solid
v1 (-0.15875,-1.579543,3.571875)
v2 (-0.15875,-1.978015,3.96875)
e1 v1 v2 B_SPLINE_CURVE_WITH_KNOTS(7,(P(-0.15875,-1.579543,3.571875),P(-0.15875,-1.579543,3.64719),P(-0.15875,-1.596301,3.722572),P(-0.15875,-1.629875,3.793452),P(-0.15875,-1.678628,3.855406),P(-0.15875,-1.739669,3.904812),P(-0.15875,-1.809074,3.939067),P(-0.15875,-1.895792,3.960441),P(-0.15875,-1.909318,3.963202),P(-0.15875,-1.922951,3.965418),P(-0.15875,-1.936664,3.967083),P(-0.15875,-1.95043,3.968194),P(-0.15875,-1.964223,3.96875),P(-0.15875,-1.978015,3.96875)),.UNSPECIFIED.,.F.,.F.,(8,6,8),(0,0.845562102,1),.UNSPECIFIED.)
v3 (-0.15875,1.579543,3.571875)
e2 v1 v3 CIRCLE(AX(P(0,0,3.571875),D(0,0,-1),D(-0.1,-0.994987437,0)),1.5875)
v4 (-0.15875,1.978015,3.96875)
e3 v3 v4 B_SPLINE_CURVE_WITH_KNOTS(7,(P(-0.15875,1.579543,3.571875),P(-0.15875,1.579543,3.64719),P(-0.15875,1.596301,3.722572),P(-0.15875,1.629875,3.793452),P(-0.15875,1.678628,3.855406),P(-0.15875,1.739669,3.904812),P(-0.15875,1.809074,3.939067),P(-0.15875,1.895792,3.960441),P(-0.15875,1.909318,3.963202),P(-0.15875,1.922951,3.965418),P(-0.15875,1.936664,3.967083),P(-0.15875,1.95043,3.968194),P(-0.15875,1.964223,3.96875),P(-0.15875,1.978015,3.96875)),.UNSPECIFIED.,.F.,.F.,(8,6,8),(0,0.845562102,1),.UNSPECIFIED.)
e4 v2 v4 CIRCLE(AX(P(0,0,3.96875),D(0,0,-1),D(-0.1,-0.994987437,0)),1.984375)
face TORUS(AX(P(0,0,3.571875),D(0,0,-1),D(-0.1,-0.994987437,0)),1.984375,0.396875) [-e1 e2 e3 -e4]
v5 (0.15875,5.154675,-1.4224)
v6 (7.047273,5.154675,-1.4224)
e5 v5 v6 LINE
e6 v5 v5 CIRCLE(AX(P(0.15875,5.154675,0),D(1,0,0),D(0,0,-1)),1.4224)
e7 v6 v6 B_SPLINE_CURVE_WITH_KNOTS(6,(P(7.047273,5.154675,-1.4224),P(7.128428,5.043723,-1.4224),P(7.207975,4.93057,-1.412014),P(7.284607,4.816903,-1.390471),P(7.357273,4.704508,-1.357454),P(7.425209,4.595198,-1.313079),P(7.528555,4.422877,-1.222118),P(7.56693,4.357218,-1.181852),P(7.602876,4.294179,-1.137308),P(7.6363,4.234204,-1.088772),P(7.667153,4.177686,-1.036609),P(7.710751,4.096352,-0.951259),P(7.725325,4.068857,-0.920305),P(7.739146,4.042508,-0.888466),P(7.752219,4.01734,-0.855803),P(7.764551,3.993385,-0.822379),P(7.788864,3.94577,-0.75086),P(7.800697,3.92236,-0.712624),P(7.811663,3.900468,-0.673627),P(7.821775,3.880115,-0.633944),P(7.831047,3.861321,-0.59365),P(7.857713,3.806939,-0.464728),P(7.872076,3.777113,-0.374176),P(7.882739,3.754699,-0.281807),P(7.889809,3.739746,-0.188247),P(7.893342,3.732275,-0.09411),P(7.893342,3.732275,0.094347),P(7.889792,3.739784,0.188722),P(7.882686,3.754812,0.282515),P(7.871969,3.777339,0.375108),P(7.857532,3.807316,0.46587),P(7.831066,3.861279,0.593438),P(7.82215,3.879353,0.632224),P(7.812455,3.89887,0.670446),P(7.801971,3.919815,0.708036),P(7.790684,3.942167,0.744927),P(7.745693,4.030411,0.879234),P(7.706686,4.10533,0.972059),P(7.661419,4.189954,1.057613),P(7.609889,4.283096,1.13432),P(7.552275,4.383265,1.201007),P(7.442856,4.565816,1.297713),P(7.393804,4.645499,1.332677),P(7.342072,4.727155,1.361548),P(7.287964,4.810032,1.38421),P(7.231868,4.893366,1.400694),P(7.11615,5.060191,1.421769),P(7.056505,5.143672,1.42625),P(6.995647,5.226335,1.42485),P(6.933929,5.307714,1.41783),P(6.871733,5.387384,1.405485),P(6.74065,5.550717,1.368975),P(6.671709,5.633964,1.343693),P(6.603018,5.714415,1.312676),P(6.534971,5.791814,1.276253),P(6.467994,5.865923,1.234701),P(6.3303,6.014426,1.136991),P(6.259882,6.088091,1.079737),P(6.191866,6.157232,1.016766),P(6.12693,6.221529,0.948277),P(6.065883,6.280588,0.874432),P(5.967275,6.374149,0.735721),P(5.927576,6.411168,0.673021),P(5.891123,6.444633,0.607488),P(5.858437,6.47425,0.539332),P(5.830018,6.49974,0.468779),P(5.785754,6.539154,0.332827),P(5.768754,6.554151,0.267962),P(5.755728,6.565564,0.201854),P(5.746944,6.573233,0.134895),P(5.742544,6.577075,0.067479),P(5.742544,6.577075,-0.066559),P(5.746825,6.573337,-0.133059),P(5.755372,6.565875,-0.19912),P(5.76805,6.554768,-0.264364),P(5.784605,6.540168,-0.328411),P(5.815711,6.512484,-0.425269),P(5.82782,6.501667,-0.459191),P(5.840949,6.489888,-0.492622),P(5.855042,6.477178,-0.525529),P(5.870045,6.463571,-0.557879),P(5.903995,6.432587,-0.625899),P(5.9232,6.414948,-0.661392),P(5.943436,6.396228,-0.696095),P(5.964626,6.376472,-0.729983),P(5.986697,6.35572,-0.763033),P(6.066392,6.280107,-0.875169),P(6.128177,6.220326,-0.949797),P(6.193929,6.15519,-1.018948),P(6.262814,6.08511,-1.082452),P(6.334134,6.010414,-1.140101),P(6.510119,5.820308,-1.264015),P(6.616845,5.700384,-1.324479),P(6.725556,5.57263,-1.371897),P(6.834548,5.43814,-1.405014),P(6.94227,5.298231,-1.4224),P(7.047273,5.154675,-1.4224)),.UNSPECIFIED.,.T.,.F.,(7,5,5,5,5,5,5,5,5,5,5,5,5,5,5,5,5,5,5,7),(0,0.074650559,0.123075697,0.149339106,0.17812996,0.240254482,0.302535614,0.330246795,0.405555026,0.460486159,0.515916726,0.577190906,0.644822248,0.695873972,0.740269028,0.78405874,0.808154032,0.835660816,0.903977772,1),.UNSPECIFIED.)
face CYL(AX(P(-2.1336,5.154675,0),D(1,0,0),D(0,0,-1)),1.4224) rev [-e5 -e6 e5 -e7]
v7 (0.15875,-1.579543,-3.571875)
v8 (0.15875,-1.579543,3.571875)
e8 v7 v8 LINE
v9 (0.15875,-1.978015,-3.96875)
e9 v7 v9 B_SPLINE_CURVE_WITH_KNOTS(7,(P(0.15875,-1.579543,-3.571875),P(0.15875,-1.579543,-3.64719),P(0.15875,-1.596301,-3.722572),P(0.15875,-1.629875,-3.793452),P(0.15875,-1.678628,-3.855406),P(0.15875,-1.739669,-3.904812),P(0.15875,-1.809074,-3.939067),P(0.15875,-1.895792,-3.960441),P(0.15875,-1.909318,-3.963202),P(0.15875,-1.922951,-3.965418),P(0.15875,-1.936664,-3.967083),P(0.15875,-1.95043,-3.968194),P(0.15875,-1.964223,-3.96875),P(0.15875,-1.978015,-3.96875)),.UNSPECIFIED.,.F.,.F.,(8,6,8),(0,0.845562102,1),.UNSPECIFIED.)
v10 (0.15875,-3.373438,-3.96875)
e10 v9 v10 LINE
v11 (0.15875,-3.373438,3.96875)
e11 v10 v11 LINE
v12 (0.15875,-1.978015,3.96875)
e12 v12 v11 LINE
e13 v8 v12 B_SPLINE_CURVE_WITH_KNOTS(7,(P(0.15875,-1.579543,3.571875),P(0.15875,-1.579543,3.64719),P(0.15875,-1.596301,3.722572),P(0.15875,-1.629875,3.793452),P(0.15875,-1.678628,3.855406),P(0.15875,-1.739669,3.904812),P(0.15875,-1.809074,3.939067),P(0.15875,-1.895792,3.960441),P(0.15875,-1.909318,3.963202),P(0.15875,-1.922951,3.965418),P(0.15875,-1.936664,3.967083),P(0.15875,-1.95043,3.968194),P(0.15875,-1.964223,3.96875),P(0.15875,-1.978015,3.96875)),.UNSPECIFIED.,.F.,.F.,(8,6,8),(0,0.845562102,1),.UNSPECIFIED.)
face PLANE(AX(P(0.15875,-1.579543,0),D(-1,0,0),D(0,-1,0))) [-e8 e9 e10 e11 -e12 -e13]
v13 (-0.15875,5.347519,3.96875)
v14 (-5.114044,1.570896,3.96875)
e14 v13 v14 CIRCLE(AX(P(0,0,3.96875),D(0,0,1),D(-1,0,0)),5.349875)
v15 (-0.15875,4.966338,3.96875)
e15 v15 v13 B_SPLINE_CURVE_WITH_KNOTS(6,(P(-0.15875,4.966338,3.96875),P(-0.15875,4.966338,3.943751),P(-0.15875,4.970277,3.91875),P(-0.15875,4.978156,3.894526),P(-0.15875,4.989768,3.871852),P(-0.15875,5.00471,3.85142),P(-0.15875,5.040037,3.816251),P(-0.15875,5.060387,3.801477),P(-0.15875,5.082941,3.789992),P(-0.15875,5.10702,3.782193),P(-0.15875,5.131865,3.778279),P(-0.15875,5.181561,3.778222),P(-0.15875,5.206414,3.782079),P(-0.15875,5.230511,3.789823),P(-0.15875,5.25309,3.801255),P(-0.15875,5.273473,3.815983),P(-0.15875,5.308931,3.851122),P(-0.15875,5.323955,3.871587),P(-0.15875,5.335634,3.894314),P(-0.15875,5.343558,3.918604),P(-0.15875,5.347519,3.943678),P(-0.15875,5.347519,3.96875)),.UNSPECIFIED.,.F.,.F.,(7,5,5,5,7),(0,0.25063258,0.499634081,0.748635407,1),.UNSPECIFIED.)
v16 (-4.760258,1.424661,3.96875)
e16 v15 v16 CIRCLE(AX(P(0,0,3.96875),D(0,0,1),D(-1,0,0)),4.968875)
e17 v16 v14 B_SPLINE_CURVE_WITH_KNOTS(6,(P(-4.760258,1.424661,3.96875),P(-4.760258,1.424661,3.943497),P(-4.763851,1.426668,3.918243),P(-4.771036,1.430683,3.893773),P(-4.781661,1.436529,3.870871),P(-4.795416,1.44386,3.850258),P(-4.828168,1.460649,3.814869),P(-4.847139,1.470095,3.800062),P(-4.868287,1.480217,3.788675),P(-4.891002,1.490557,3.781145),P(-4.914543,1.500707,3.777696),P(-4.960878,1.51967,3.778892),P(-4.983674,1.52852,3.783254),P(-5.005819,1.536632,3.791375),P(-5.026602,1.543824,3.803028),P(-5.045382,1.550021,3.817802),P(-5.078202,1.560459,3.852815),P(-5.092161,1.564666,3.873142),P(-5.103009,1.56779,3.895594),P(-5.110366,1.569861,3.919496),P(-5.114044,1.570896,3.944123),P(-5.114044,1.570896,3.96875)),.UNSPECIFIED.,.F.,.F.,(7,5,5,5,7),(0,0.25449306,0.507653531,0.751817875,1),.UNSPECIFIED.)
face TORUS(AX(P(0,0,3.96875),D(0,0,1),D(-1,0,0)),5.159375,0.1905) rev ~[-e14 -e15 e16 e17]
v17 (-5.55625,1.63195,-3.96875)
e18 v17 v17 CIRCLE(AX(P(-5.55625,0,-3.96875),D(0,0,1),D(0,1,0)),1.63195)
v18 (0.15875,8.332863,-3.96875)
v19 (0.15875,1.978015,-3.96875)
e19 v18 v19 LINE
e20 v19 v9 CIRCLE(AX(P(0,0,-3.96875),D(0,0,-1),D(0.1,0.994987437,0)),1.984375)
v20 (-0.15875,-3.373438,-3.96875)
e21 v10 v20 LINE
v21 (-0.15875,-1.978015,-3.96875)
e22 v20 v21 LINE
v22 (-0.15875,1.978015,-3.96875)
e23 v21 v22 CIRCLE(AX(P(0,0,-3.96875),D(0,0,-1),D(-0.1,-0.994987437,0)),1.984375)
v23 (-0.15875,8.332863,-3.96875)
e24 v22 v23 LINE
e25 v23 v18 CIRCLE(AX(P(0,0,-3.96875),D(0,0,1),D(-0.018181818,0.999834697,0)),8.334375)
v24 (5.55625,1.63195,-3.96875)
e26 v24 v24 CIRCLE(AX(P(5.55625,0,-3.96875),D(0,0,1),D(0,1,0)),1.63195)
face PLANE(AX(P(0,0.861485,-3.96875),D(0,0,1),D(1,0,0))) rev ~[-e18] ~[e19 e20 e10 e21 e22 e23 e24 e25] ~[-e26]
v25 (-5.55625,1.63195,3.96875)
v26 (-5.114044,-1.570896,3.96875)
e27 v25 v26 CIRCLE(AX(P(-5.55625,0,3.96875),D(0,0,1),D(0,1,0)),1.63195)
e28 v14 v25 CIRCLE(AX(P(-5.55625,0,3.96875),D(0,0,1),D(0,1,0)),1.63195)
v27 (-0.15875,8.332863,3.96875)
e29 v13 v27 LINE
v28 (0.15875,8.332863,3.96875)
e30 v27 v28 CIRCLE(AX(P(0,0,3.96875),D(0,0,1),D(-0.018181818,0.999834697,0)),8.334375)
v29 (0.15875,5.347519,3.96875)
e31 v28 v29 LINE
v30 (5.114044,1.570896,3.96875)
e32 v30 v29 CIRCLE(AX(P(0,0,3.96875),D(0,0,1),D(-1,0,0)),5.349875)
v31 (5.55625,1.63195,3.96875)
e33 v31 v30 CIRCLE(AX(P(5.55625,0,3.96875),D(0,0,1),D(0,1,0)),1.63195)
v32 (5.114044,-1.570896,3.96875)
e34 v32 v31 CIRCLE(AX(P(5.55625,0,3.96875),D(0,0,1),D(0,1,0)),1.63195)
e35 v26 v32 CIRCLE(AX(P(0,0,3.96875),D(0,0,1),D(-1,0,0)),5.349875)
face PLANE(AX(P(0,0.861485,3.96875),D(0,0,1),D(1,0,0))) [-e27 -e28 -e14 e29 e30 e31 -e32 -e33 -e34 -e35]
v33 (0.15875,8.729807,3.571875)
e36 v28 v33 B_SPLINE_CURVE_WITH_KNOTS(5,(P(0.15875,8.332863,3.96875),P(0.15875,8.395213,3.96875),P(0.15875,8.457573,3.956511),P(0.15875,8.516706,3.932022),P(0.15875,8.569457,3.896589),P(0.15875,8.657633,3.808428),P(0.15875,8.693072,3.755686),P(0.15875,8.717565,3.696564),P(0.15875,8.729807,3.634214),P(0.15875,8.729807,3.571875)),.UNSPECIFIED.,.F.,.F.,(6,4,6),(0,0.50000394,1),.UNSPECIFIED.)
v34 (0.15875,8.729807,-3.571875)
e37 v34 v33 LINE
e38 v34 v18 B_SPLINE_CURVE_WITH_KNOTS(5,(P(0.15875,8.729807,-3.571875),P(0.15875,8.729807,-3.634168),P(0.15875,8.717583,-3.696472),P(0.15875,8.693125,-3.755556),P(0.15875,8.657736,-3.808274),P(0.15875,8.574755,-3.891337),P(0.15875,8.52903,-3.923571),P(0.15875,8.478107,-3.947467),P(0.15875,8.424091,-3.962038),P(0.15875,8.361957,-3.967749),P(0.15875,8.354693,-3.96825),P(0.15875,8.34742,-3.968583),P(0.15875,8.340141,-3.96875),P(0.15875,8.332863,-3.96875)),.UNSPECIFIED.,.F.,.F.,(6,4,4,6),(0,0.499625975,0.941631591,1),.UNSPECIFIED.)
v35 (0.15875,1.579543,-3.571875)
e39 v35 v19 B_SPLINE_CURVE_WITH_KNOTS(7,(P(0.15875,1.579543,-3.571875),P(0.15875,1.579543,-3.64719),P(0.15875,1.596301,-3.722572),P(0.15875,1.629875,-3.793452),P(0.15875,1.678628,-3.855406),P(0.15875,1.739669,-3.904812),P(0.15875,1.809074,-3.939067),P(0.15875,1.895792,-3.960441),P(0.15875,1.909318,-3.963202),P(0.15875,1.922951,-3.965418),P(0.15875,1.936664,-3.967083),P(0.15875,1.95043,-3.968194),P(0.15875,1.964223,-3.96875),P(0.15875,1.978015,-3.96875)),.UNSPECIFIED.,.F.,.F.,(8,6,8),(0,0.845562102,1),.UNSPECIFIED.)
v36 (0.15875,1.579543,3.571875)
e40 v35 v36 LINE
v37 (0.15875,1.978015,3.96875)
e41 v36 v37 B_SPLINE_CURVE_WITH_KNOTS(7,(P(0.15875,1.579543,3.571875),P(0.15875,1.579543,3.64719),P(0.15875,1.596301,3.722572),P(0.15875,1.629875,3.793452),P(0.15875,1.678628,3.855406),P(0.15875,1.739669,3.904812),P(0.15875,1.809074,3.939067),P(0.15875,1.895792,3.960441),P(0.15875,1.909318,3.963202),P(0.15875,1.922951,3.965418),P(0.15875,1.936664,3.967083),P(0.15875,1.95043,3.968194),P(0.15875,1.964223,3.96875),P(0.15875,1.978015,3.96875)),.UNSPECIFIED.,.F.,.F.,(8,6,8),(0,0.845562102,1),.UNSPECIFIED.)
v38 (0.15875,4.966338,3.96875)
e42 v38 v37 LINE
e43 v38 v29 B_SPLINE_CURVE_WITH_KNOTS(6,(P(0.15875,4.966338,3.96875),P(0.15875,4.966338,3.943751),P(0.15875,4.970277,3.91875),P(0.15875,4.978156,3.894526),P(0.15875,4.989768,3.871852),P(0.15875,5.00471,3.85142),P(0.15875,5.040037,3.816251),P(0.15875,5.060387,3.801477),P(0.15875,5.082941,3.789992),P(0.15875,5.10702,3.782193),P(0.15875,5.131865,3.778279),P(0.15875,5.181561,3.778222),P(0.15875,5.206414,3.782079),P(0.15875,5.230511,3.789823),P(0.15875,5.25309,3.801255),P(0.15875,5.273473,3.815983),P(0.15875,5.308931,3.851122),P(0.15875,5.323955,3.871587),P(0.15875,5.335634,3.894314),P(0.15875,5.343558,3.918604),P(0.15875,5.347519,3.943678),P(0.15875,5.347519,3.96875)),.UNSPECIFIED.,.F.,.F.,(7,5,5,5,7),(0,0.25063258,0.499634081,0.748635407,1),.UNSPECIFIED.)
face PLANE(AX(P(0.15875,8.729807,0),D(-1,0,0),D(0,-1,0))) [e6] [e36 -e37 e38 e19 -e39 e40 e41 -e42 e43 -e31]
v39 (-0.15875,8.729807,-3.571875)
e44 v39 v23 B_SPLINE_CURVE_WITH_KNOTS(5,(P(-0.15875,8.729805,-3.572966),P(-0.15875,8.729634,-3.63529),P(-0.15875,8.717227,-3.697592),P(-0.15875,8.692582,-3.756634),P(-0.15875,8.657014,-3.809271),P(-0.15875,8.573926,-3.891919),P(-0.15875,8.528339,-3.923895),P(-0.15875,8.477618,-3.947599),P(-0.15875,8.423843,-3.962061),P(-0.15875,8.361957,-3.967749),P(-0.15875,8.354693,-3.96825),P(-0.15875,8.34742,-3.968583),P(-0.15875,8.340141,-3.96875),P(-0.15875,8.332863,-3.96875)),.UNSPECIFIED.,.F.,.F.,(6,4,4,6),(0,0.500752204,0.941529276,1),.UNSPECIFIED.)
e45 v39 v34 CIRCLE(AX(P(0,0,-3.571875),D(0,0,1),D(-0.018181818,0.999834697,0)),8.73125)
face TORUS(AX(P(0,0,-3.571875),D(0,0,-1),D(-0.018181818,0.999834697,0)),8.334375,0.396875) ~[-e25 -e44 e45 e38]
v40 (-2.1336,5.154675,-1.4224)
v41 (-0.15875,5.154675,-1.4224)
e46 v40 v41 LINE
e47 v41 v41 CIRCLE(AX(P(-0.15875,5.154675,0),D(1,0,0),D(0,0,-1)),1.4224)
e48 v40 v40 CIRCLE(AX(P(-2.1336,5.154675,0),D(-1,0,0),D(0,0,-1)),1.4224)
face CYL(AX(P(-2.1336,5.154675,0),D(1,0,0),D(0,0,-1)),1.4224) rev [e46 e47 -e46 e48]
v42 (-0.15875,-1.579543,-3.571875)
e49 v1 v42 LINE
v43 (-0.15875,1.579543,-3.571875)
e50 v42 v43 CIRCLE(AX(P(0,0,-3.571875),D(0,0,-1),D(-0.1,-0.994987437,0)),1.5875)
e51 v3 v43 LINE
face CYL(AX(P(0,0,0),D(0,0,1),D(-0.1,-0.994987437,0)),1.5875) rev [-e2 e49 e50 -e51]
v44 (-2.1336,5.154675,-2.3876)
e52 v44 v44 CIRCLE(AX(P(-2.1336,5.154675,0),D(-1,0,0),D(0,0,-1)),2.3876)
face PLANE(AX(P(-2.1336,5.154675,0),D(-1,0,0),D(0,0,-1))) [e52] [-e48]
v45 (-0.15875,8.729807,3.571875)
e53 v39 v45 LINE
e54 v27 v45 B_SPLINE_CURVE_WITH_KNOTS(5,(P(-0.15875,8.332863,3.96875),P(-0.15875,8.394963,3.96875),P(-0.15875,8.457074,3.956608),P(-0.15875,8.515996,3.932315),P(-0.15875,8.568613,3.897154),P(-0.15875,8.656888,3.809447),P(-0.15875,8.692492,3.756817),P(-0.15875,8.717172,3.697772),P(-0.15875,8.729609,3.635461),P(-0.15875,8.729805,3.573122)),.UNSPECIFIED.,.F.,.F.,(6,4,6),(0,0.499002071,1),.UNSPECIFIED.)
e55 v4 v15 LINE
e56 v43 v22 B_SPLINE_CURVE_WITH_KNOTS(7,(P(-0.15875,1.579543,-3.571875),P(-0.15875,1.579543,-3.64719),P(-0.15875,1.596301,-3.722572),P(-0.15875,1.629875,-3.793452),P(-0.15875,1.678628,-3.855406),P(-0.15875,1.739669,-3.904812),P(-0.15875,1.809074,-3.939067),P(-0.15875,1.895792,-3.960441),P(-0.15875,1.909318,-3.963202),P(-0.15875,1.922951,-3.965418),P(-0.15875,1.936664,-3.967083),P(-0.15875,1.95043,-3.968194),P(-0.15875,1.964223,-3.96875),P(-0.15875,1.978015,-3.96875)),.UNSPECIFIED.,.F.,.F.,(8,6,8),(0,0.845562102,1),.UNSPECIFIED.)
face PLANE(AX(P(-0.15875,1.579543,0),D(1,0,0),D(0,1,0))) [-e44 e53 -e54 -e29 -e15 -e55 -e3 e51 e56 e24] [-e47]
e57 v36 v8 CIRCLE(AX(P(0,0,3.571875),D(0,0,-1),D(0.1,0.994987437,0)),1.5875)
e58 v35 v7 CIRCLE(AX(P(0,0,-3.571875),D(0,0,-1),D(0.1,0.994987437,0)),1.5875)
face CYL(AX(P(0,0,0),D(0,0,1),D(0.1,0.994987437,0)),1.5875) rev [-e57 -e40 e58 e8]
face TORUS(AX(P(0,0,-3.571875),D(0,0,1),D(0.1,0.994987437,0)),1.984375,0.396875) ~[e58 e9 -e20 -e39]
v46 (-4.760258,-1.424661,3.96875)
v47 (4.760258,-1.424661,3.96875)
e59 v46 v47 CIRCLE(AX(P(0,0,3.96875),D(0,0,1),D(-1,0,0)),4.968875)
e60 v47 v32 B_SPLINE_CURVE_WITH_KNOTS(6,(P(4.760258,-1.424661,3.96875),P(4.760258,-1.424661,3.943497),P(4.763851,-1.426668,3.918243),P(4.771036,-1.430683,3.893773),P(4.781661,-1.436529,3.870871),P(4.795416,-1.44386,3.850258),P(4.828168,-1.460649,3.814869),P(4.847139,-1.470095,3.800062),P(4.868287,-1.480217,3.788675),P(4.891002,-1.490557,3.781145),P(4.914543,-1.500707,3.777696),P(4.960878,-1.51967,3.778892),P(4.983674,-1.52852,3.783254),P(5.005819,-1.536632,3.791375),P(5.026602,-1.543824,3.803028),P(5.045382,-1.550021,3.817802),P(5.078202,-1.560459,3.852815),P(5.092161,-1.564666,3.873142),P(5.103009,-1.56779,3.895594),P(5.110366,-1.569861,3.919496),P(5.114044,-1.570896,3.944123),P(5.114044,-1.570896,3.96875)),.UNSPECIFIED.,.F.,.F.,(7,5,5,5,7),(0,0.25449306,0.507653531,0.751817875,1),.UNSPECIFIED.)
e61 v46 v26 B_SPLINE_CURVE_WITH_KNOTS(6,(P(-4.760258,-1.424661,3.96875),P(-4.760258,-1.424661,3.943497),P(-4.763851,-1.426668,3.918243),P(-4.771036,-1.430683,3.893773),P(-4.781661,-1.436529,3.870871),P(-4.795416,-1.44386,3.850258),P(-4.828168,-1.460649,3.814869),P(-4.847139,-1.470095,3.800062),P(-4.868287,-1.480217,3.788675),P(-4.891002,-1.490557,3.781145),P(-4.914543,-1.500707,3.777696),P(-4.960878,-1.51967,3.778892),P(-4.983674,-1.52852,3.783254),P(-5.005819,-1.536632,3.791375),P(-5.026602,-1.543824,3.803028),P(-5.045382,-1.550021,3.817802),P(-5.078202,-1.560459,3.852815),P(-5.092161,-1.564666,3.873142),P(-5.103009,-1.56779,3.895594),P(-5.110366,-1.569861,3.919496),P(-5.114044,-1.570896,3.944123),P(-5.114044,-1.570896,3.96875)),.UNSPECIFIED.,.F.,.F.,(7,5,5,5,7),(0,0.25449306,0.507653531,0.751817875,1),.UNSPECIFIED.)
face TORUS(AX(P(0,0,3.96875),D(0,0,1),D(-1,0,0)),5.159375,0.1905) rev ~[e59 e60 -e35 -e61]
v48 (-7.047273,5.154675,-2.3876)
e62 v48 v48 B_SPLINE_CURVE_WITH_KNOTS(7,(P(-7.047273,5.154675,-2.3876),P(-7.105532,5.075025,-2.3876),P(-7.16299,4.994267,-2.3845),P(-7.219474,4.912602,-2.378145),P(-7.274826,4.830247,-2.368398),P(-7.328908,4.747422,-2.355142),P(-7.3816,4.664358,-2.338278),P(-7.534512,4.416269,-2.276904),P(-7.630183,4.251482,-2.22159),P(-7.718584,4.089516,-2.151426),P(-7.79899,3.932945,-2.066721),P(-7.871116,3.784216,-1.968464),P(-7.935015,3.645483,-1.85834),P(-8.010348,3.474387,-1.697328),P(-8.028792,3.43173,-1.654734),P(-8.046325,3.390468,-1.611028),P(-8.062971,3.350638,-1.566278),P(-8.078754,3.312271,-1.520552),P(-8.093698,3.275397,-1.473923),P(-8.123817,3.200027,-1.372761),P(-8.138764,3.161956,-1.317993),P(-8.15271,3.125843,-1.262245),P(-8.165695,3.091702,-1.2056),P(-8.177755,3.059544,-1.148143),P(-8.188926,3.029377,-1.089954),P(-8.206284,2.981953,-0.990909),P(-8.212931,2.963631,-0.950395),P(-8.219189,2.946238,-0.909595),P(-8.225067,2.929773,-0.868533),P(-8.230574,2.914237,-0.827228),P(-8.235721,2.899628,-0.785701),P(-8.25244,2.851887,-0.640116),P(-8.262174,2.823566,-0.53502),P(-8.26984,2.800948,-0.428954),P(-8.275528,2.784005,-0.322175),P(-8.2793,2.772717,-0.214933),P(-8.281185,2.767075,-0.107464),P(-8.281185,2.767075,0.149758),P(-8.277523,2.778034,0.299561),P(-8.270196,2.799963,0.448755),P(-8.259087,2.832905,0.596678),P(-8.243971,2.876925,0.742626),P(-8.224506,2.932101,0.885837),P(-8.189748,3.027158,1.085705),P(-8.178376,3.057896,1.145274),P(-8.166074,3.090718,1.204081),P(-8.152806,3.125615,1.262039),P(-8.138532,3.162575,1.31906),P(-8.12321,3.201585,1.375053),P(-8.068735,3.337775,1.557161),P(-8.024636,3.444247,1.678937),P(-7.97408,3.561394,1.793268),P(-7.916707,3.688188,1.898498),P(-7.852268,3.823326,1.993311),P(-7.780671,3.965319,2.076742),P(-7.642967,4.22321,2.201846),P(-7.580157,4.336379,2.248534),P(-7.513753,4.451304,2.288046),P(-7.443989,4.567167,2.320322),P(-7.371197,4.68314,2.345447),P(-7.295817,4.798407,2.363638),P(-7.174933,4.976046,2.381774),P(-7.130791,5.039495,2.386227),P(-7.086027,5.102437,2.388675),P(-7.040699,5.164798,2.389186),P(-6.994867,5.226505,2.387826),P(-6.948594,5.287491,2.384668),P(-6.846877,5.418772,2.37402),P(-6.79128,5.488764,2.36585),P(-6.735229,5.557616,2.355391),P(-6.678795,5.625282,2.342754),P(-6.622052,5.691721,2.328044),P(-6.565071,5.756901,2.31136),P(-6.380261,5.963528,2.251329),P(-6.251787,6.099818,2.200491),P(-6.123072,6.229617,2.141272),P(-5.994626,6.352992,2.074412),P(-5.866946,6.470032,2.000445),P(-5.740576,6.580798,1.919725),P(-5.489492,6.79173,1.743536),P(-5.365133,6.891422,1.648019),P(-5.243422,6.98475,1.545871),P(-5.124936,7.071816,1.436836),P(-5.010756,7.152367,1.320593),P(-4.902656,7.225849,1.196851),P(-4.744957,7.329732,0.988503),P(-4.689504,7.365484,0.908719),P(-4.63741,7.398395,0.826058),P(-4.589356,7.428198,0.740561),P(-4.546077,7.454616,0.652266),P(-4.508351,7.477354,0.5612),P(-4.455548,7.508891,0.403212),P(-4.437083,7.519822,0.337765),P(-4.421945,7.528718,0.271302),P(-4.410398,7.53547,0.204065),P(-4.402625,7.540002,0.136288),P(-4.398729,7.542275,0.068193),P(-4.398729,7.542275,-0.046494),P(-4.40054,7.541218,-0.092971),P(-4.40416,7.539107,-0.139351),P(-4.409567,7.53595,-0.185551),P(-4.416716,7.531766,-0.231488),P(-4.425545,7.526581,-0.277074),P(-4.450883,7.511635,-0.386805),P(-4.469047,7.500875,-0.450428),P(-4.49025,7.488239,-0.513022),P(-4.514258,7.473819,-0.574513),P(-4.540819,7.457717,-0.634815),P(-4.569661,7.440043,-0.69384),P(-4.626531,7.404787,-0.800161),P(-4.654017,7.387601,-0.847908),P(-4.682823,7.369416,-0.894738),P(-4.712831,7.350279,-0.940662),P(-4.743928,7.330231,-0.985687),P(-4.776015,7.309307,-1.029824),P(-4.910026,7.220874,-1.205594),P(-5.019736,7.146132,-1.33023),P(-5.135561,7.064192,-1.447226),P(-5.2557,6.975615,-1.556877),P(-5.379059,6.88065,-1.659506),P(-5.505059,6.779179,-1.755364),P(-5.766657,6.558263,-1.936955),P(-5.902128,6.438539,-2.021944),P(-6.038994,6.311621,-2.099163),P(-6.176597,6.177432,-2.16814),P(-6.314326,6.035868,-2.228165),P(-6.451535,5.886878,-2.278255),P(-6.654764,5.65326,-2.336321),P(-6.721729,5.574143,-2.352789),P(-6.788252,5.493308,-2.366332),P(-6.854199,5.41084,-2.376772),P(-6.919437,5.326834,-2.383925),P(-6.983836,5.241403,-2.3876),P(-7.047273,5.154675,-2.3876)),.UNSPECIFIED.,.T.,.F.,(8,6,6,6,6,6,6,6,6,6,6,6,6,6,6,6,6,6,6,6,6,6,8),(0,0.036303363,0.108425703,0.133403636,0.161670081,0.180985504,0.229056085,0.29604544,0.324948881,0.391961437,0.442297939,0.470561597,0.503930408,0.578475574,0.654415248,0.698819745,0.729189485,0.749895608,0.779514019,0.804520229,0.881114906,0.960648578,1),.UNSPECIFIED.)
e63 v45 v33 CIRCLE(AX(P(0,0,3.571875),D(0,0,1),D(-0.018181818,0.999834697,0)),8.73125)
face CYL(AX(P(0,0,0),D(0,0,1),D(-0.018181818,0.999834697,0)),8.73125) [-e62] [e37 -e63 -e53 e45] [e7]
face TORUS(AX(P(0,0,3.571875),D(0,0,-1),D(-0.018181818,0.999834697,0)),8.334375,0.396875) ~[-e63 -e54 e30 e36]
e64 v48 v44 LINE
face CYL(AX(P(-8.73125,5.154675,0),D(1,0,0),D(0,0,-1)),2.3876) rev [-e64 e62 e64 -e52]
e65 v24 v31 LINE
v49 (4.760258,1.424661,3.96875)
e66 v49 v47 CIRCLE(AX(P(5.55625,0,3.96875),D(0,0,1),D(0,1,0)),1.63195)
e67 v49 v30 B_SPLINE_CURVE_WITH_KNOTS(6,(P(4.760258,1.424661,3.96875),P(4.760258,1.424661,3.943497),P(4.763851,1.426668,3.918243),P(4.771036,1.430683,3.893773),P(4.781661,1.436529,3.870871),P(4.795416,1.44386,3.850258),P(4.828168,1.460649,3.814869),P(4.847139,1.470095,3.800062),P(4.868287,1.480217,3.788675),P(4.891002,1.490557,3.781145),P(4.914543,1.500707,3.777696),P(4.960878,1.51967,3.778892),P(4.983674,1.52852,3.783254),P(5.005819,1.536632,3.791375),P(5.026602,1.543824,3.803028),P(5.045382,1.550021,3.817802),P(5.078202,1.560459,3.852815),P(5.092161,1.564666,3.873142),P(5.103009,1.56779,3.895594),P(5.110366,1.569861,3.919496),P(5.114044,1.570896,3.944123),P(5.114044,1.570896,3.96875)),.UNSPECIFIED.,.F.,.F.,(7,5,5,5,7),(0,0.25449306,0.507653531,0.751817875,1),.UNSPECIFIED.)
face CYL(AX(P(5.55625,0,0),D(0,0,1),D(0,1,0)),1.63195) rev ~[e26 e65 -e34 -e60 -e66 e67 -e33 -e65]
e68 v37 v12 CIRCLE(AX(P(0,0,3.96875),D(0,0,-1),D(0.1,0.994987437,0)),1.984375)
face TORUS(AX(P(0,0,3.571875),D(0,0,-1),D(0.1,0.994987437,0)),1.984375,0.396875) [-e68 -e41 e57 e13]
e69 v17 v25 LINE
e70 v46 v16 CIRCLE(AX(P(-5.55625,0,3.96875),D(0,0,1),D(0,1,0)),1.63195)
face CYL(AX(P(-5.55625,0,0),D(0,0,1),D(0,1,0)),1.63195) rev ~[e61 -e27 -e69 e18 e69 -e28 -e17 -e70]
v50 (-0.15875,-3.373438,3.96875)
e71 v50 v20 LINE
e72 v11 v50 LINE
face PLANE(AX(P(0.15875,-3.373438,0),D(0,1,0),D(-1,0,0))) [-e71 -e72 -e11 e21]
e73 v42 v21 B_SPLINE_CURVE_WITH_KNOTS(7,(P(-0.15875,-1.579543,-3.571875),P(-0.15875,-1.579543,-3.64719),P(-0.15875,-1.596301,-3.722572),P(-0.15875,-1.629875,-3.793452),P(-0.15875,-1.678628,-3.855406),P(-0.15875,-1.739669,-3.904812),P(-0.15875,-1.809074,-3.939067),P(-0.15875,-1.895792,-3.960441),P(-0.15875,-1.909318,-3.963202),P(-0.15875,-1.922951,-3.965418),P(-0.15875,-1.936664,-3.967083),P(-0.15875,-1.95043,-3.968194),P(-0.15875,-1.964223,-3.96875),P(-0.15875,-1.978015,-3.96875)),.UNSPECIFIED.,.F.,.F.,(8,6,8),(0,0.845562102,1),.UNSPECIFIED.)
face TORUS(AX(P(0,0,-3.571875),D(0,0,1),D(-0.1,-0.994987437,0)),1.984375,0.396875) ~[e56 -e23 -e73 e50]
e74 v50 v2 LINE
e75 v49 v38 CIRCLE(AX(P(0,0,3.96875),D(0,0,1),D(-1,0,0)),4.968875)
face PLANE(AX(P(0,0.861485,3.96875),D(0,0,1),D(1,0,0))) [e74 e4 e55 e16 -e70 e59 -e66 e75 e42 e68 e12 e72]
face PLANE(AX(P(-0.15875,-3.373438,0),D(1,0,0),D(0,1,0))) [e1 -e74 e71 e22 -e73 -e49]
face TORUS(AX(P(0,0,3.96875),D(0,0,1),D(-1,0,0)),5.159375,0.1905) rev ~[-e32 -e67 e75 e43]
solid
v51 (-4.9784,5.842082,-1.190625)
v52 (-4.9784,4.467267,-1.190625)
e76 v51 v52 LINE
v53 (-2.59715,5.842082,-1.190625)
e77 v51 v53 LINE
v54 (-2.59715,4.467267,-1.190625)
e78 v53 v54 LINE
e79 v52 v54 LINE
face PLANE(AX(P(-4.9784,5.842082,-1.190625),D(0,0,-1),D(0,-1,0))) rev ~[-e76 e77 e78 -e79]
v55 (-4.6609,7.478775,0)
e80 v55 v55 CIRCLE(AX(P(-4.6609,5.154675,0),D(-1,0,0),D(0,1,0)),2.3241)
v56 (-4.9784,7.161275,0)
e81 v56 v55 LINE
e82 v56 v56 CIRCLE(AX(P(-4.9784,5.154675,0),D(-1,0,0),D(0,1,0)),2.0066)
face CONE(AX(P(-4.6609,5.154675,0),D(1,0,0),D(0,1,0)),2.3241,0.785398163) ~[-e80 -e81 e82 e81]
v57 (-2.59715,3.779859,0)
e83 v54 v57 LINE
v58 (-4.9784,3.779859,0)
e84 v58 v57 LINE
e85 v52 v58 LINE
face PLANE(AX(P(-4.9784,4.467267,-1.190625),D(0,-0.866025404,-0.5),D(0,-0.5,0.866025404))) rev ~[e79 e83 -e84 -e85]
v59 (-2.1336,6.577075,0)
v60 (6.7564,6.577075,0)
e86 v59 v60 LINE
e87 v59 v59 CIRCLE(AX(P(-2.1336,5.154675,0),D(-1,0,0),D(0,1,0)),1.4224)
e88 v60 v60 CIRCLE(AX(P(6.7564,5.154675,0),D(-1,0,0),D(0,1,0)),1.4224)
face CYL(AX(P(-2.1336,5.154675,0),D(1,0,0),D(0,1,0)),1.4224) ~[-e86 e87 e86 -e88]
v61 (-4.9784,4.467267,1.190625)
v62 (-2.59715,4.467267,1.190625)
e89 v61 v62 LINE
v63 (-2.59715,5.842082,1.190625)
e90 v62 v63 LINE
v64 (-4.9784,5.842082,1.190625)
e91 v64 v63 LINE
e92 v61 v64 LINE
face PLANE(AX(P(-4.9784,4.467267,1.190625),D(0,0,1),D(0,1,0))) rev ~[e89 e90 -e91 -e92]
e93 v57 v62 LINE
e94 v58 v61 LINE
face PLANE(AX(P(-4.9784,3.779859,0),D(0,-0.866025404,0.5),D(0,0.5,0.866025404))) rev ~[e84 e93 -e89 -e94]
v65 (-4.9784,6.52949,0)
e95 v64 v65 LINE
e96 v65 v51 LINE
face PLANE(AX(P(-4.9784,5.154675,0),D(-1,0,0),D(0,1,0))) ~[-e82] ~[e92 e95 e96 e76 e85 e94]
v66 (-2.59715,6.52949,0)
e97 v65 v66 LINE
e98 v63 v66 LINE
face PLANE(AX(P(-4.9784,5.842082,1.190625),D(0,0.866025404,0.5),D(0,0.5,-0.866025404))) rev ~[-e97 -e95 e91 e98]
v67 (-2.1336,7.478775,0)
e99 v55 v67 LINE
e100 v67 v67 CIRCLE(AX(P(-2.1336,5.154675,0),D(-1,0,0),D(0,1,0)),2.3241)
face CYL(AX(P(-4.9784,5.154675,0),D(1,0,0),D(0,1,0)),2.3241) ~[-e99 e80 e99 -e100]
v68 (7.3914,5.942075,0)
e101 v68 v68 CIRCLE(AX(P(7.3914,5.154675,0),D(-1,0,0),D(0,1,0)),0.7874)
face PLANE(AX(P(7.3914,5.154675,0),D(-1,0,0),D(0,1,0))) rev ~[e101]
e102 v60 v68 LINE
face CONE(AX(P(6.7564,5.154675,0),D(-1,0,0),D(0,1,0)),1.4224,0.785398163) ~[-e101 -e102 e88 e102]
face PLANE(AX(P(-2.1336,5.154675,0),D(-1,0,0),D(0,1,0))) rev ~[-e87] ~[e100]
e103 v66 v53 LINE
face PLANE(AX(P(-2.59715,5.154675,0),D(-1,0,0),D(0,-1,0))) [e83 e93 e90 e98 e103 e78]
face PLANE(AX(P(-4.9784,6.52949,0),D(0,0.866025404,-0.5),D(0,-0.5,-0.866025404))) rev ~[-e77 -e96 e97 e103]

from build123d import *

# Parameters (mm, degrees)
EXTRUDE1_DEPTH                 = 3.96875
FILLET1_R                      = 0.396875
CUT_EXTRUDE1_DEPTH             = 2.38125
CHAMFER1_SIZE                  = 0.3175
CHAMFER2_SIZE                  = 0.635
SKETCH10_W                     = 1.63195
SKETCH10_H                     = 7.9375
F_4_CLEARANCE_HOLE2_AT_2_COUNT = 2
F_4_CLEARANCE_HOLE2_AT_2_PITCH = 11.1125


with BuildPart() as part:
    # Sketch1 → Extrude1 (new, symmetric)
    with BuildSketch(Plane.XY):
        with BuildLine():
            Line((-0.15875, 1.579542556), (-0.15875, 8.729806699))
            ThreePointArc((-0.15875, 8.729806699), (0, -8.73125), (0.15875, 8.729806699))
            Line((0.15875, 8.729806699), (0.15875, 1.579542556))
            ThreePointArc((0.15875, 1.579542556), (1.5875, 0), (0.15875, -1.579542556))
            Line((0.15875, -1.579542556), (0.15875, -3.3734375))
            Line((0.15875, -3.3734375), (-0.15875, -3.3734375))
            Line((-0.15875, -3.3734375), (-0.15875, -1.579542556))
            ThreePointArc((-0.15875, -1.579542556), (-1.5875, 0), (-0.15875, 1.579542556))
        make_face()
    extrude(amount=EXTRUDE1_DEPTH, both=True)

    # Fillet1
    fillet1_edges = [part.edges().sort_by_distance(p)[0] for p in [
        (-1.5875, 0, 3.96875),
        (0, -8.73125, 3.96875),
        (1.5875, 0, 3.96875),
        (1.5875, 0, -3.96875),
        (0, -8.73125, -3.96875),
        (-1.5875, 0, -3.96875),
    ]]
    fillet(fillet1_edges, radius=FILLET1_R)

    # Sketch2 → Cut-Revolve1 (revolve, cut)
    with BuildSketch(Plane(origin=(0, 0, 0), x_dir=(1, 0, 0), z_dir=(0, 1, 0))):
        with BuildLine():
            Line((-5.349875, -3.96875), (-4.968875, -3.96875))
            ThreePointArc((-4.968875, -3.96875), (-5.159375, -3.77825), (-5.349875, -3.96875))
        make_face()
    revolve(axis=Axis((0, 0, -3.96875), (0, 0, 1)), mode=Mode.SUBTRACT)

    # Sketch3 → Cut-Revolve2 (revolve, cut)
    with BuildSketch(Plane.XY, mode=Mode.PRIVATE) as cut_revolve2_sk:
        Polygon((8.73125, 5.154674628), (-8.73125, 5.154674628), (-8.73125, 2.767074628), (-2.1336, 2.767074628), (-2.1336, 3.732274628), (8.73125, 3.732274628), align=None)
    revolve(cut_revolve2_sk.sketch.rotate(Axis((-8.73125, 5.154674628, 0), (-1, 0, 0)), 270), axis=Axis((-8.73125, 5.154674628, 0), (-1, 0, 0)), mode=Mode.SUBTRACT)

    # Sketch10 → #4 Clearance Hole2 (revolve, cut)
    with BuildSketch(Plane(origin=(-5.55625, 0, -3.96875), x_dir=(0, 1, 0), z_dir=(1, 0, 0))):
        with Locations((0.815975, 3.96875)):
            Rectangle(SKETCH10_W, SKETCH10_H)
    f_4_clearance_hole2 = revolve(axis=Axis((-5.55625, 0, -10.31875), (0, 0, 1)), mode=Mode.SUBTRACT)

    # #4 Clearance Hole2 at 2: #4 Clearance Hole2 ×2
    with Locations(*[(i * F_4_CLEARANCE_HOLE2_AT_2_PITCH, 0, 0) for i in range(1, F_4_CLEARANCE_HOLE2_AT_2_COUNT)]):
        add(f_4_clearance_hole2, mode=Mode.SUBTRACT)


with BuildPart() as body_2:
    # Sketch4 → Revolve1 (revolve)
    with BuildSketch(Plane.XY):
        Polygon((-4.9784, 5.154674628), (-4.9784, 7.478774628), (-2.1336, 7.478774628), (-2.1336, 6.577074628), (7.3914, 6.577074628), (7.3914, 5.154674628), align=None)
    revolve(axis=Axis((7.3914, 5.154674628, 0), (-1, 0, 0)))

    # Sketch5 → Cut-Extrude1 (cut)
    with BuildSketch(Plane(origin=(-4.9784, 0, 0), x_dir=(0, -1, 0), z_dir=(-1, 0, 0))):
        Polygon((-4.467266963, -1.190625), (-3.779859299, 0), (-4.467266963, 1.190625), (-5.842082292, 1.190625), (-6.529489956, 0), (-5.842082292, -1.190625), align=None)
    extrude(amount=-CUT_EXTRUDE1_DEPTH, mode=Mode.SUBTRACT)

    # Chamfer1
    chamfer1_edges = [body_2.edges().sort_by_distance(p)[0] for p in [
        (-4.9784, 2.830574628, 0),
    ]]
    chamfer(chamfer1_edges, length=CHAMFER1_SIZE)

    # Chamfer2
    chamfer2_edges = [body_2.edges().sort_by_distance(p)[0] for p in [
        (7.3914, 3.732274628, 0),
    ]]
    chamfer(chamfer2_edges, length=CHAMFER2_SIZE)


solid = Compound([part.part, body_2.part])
